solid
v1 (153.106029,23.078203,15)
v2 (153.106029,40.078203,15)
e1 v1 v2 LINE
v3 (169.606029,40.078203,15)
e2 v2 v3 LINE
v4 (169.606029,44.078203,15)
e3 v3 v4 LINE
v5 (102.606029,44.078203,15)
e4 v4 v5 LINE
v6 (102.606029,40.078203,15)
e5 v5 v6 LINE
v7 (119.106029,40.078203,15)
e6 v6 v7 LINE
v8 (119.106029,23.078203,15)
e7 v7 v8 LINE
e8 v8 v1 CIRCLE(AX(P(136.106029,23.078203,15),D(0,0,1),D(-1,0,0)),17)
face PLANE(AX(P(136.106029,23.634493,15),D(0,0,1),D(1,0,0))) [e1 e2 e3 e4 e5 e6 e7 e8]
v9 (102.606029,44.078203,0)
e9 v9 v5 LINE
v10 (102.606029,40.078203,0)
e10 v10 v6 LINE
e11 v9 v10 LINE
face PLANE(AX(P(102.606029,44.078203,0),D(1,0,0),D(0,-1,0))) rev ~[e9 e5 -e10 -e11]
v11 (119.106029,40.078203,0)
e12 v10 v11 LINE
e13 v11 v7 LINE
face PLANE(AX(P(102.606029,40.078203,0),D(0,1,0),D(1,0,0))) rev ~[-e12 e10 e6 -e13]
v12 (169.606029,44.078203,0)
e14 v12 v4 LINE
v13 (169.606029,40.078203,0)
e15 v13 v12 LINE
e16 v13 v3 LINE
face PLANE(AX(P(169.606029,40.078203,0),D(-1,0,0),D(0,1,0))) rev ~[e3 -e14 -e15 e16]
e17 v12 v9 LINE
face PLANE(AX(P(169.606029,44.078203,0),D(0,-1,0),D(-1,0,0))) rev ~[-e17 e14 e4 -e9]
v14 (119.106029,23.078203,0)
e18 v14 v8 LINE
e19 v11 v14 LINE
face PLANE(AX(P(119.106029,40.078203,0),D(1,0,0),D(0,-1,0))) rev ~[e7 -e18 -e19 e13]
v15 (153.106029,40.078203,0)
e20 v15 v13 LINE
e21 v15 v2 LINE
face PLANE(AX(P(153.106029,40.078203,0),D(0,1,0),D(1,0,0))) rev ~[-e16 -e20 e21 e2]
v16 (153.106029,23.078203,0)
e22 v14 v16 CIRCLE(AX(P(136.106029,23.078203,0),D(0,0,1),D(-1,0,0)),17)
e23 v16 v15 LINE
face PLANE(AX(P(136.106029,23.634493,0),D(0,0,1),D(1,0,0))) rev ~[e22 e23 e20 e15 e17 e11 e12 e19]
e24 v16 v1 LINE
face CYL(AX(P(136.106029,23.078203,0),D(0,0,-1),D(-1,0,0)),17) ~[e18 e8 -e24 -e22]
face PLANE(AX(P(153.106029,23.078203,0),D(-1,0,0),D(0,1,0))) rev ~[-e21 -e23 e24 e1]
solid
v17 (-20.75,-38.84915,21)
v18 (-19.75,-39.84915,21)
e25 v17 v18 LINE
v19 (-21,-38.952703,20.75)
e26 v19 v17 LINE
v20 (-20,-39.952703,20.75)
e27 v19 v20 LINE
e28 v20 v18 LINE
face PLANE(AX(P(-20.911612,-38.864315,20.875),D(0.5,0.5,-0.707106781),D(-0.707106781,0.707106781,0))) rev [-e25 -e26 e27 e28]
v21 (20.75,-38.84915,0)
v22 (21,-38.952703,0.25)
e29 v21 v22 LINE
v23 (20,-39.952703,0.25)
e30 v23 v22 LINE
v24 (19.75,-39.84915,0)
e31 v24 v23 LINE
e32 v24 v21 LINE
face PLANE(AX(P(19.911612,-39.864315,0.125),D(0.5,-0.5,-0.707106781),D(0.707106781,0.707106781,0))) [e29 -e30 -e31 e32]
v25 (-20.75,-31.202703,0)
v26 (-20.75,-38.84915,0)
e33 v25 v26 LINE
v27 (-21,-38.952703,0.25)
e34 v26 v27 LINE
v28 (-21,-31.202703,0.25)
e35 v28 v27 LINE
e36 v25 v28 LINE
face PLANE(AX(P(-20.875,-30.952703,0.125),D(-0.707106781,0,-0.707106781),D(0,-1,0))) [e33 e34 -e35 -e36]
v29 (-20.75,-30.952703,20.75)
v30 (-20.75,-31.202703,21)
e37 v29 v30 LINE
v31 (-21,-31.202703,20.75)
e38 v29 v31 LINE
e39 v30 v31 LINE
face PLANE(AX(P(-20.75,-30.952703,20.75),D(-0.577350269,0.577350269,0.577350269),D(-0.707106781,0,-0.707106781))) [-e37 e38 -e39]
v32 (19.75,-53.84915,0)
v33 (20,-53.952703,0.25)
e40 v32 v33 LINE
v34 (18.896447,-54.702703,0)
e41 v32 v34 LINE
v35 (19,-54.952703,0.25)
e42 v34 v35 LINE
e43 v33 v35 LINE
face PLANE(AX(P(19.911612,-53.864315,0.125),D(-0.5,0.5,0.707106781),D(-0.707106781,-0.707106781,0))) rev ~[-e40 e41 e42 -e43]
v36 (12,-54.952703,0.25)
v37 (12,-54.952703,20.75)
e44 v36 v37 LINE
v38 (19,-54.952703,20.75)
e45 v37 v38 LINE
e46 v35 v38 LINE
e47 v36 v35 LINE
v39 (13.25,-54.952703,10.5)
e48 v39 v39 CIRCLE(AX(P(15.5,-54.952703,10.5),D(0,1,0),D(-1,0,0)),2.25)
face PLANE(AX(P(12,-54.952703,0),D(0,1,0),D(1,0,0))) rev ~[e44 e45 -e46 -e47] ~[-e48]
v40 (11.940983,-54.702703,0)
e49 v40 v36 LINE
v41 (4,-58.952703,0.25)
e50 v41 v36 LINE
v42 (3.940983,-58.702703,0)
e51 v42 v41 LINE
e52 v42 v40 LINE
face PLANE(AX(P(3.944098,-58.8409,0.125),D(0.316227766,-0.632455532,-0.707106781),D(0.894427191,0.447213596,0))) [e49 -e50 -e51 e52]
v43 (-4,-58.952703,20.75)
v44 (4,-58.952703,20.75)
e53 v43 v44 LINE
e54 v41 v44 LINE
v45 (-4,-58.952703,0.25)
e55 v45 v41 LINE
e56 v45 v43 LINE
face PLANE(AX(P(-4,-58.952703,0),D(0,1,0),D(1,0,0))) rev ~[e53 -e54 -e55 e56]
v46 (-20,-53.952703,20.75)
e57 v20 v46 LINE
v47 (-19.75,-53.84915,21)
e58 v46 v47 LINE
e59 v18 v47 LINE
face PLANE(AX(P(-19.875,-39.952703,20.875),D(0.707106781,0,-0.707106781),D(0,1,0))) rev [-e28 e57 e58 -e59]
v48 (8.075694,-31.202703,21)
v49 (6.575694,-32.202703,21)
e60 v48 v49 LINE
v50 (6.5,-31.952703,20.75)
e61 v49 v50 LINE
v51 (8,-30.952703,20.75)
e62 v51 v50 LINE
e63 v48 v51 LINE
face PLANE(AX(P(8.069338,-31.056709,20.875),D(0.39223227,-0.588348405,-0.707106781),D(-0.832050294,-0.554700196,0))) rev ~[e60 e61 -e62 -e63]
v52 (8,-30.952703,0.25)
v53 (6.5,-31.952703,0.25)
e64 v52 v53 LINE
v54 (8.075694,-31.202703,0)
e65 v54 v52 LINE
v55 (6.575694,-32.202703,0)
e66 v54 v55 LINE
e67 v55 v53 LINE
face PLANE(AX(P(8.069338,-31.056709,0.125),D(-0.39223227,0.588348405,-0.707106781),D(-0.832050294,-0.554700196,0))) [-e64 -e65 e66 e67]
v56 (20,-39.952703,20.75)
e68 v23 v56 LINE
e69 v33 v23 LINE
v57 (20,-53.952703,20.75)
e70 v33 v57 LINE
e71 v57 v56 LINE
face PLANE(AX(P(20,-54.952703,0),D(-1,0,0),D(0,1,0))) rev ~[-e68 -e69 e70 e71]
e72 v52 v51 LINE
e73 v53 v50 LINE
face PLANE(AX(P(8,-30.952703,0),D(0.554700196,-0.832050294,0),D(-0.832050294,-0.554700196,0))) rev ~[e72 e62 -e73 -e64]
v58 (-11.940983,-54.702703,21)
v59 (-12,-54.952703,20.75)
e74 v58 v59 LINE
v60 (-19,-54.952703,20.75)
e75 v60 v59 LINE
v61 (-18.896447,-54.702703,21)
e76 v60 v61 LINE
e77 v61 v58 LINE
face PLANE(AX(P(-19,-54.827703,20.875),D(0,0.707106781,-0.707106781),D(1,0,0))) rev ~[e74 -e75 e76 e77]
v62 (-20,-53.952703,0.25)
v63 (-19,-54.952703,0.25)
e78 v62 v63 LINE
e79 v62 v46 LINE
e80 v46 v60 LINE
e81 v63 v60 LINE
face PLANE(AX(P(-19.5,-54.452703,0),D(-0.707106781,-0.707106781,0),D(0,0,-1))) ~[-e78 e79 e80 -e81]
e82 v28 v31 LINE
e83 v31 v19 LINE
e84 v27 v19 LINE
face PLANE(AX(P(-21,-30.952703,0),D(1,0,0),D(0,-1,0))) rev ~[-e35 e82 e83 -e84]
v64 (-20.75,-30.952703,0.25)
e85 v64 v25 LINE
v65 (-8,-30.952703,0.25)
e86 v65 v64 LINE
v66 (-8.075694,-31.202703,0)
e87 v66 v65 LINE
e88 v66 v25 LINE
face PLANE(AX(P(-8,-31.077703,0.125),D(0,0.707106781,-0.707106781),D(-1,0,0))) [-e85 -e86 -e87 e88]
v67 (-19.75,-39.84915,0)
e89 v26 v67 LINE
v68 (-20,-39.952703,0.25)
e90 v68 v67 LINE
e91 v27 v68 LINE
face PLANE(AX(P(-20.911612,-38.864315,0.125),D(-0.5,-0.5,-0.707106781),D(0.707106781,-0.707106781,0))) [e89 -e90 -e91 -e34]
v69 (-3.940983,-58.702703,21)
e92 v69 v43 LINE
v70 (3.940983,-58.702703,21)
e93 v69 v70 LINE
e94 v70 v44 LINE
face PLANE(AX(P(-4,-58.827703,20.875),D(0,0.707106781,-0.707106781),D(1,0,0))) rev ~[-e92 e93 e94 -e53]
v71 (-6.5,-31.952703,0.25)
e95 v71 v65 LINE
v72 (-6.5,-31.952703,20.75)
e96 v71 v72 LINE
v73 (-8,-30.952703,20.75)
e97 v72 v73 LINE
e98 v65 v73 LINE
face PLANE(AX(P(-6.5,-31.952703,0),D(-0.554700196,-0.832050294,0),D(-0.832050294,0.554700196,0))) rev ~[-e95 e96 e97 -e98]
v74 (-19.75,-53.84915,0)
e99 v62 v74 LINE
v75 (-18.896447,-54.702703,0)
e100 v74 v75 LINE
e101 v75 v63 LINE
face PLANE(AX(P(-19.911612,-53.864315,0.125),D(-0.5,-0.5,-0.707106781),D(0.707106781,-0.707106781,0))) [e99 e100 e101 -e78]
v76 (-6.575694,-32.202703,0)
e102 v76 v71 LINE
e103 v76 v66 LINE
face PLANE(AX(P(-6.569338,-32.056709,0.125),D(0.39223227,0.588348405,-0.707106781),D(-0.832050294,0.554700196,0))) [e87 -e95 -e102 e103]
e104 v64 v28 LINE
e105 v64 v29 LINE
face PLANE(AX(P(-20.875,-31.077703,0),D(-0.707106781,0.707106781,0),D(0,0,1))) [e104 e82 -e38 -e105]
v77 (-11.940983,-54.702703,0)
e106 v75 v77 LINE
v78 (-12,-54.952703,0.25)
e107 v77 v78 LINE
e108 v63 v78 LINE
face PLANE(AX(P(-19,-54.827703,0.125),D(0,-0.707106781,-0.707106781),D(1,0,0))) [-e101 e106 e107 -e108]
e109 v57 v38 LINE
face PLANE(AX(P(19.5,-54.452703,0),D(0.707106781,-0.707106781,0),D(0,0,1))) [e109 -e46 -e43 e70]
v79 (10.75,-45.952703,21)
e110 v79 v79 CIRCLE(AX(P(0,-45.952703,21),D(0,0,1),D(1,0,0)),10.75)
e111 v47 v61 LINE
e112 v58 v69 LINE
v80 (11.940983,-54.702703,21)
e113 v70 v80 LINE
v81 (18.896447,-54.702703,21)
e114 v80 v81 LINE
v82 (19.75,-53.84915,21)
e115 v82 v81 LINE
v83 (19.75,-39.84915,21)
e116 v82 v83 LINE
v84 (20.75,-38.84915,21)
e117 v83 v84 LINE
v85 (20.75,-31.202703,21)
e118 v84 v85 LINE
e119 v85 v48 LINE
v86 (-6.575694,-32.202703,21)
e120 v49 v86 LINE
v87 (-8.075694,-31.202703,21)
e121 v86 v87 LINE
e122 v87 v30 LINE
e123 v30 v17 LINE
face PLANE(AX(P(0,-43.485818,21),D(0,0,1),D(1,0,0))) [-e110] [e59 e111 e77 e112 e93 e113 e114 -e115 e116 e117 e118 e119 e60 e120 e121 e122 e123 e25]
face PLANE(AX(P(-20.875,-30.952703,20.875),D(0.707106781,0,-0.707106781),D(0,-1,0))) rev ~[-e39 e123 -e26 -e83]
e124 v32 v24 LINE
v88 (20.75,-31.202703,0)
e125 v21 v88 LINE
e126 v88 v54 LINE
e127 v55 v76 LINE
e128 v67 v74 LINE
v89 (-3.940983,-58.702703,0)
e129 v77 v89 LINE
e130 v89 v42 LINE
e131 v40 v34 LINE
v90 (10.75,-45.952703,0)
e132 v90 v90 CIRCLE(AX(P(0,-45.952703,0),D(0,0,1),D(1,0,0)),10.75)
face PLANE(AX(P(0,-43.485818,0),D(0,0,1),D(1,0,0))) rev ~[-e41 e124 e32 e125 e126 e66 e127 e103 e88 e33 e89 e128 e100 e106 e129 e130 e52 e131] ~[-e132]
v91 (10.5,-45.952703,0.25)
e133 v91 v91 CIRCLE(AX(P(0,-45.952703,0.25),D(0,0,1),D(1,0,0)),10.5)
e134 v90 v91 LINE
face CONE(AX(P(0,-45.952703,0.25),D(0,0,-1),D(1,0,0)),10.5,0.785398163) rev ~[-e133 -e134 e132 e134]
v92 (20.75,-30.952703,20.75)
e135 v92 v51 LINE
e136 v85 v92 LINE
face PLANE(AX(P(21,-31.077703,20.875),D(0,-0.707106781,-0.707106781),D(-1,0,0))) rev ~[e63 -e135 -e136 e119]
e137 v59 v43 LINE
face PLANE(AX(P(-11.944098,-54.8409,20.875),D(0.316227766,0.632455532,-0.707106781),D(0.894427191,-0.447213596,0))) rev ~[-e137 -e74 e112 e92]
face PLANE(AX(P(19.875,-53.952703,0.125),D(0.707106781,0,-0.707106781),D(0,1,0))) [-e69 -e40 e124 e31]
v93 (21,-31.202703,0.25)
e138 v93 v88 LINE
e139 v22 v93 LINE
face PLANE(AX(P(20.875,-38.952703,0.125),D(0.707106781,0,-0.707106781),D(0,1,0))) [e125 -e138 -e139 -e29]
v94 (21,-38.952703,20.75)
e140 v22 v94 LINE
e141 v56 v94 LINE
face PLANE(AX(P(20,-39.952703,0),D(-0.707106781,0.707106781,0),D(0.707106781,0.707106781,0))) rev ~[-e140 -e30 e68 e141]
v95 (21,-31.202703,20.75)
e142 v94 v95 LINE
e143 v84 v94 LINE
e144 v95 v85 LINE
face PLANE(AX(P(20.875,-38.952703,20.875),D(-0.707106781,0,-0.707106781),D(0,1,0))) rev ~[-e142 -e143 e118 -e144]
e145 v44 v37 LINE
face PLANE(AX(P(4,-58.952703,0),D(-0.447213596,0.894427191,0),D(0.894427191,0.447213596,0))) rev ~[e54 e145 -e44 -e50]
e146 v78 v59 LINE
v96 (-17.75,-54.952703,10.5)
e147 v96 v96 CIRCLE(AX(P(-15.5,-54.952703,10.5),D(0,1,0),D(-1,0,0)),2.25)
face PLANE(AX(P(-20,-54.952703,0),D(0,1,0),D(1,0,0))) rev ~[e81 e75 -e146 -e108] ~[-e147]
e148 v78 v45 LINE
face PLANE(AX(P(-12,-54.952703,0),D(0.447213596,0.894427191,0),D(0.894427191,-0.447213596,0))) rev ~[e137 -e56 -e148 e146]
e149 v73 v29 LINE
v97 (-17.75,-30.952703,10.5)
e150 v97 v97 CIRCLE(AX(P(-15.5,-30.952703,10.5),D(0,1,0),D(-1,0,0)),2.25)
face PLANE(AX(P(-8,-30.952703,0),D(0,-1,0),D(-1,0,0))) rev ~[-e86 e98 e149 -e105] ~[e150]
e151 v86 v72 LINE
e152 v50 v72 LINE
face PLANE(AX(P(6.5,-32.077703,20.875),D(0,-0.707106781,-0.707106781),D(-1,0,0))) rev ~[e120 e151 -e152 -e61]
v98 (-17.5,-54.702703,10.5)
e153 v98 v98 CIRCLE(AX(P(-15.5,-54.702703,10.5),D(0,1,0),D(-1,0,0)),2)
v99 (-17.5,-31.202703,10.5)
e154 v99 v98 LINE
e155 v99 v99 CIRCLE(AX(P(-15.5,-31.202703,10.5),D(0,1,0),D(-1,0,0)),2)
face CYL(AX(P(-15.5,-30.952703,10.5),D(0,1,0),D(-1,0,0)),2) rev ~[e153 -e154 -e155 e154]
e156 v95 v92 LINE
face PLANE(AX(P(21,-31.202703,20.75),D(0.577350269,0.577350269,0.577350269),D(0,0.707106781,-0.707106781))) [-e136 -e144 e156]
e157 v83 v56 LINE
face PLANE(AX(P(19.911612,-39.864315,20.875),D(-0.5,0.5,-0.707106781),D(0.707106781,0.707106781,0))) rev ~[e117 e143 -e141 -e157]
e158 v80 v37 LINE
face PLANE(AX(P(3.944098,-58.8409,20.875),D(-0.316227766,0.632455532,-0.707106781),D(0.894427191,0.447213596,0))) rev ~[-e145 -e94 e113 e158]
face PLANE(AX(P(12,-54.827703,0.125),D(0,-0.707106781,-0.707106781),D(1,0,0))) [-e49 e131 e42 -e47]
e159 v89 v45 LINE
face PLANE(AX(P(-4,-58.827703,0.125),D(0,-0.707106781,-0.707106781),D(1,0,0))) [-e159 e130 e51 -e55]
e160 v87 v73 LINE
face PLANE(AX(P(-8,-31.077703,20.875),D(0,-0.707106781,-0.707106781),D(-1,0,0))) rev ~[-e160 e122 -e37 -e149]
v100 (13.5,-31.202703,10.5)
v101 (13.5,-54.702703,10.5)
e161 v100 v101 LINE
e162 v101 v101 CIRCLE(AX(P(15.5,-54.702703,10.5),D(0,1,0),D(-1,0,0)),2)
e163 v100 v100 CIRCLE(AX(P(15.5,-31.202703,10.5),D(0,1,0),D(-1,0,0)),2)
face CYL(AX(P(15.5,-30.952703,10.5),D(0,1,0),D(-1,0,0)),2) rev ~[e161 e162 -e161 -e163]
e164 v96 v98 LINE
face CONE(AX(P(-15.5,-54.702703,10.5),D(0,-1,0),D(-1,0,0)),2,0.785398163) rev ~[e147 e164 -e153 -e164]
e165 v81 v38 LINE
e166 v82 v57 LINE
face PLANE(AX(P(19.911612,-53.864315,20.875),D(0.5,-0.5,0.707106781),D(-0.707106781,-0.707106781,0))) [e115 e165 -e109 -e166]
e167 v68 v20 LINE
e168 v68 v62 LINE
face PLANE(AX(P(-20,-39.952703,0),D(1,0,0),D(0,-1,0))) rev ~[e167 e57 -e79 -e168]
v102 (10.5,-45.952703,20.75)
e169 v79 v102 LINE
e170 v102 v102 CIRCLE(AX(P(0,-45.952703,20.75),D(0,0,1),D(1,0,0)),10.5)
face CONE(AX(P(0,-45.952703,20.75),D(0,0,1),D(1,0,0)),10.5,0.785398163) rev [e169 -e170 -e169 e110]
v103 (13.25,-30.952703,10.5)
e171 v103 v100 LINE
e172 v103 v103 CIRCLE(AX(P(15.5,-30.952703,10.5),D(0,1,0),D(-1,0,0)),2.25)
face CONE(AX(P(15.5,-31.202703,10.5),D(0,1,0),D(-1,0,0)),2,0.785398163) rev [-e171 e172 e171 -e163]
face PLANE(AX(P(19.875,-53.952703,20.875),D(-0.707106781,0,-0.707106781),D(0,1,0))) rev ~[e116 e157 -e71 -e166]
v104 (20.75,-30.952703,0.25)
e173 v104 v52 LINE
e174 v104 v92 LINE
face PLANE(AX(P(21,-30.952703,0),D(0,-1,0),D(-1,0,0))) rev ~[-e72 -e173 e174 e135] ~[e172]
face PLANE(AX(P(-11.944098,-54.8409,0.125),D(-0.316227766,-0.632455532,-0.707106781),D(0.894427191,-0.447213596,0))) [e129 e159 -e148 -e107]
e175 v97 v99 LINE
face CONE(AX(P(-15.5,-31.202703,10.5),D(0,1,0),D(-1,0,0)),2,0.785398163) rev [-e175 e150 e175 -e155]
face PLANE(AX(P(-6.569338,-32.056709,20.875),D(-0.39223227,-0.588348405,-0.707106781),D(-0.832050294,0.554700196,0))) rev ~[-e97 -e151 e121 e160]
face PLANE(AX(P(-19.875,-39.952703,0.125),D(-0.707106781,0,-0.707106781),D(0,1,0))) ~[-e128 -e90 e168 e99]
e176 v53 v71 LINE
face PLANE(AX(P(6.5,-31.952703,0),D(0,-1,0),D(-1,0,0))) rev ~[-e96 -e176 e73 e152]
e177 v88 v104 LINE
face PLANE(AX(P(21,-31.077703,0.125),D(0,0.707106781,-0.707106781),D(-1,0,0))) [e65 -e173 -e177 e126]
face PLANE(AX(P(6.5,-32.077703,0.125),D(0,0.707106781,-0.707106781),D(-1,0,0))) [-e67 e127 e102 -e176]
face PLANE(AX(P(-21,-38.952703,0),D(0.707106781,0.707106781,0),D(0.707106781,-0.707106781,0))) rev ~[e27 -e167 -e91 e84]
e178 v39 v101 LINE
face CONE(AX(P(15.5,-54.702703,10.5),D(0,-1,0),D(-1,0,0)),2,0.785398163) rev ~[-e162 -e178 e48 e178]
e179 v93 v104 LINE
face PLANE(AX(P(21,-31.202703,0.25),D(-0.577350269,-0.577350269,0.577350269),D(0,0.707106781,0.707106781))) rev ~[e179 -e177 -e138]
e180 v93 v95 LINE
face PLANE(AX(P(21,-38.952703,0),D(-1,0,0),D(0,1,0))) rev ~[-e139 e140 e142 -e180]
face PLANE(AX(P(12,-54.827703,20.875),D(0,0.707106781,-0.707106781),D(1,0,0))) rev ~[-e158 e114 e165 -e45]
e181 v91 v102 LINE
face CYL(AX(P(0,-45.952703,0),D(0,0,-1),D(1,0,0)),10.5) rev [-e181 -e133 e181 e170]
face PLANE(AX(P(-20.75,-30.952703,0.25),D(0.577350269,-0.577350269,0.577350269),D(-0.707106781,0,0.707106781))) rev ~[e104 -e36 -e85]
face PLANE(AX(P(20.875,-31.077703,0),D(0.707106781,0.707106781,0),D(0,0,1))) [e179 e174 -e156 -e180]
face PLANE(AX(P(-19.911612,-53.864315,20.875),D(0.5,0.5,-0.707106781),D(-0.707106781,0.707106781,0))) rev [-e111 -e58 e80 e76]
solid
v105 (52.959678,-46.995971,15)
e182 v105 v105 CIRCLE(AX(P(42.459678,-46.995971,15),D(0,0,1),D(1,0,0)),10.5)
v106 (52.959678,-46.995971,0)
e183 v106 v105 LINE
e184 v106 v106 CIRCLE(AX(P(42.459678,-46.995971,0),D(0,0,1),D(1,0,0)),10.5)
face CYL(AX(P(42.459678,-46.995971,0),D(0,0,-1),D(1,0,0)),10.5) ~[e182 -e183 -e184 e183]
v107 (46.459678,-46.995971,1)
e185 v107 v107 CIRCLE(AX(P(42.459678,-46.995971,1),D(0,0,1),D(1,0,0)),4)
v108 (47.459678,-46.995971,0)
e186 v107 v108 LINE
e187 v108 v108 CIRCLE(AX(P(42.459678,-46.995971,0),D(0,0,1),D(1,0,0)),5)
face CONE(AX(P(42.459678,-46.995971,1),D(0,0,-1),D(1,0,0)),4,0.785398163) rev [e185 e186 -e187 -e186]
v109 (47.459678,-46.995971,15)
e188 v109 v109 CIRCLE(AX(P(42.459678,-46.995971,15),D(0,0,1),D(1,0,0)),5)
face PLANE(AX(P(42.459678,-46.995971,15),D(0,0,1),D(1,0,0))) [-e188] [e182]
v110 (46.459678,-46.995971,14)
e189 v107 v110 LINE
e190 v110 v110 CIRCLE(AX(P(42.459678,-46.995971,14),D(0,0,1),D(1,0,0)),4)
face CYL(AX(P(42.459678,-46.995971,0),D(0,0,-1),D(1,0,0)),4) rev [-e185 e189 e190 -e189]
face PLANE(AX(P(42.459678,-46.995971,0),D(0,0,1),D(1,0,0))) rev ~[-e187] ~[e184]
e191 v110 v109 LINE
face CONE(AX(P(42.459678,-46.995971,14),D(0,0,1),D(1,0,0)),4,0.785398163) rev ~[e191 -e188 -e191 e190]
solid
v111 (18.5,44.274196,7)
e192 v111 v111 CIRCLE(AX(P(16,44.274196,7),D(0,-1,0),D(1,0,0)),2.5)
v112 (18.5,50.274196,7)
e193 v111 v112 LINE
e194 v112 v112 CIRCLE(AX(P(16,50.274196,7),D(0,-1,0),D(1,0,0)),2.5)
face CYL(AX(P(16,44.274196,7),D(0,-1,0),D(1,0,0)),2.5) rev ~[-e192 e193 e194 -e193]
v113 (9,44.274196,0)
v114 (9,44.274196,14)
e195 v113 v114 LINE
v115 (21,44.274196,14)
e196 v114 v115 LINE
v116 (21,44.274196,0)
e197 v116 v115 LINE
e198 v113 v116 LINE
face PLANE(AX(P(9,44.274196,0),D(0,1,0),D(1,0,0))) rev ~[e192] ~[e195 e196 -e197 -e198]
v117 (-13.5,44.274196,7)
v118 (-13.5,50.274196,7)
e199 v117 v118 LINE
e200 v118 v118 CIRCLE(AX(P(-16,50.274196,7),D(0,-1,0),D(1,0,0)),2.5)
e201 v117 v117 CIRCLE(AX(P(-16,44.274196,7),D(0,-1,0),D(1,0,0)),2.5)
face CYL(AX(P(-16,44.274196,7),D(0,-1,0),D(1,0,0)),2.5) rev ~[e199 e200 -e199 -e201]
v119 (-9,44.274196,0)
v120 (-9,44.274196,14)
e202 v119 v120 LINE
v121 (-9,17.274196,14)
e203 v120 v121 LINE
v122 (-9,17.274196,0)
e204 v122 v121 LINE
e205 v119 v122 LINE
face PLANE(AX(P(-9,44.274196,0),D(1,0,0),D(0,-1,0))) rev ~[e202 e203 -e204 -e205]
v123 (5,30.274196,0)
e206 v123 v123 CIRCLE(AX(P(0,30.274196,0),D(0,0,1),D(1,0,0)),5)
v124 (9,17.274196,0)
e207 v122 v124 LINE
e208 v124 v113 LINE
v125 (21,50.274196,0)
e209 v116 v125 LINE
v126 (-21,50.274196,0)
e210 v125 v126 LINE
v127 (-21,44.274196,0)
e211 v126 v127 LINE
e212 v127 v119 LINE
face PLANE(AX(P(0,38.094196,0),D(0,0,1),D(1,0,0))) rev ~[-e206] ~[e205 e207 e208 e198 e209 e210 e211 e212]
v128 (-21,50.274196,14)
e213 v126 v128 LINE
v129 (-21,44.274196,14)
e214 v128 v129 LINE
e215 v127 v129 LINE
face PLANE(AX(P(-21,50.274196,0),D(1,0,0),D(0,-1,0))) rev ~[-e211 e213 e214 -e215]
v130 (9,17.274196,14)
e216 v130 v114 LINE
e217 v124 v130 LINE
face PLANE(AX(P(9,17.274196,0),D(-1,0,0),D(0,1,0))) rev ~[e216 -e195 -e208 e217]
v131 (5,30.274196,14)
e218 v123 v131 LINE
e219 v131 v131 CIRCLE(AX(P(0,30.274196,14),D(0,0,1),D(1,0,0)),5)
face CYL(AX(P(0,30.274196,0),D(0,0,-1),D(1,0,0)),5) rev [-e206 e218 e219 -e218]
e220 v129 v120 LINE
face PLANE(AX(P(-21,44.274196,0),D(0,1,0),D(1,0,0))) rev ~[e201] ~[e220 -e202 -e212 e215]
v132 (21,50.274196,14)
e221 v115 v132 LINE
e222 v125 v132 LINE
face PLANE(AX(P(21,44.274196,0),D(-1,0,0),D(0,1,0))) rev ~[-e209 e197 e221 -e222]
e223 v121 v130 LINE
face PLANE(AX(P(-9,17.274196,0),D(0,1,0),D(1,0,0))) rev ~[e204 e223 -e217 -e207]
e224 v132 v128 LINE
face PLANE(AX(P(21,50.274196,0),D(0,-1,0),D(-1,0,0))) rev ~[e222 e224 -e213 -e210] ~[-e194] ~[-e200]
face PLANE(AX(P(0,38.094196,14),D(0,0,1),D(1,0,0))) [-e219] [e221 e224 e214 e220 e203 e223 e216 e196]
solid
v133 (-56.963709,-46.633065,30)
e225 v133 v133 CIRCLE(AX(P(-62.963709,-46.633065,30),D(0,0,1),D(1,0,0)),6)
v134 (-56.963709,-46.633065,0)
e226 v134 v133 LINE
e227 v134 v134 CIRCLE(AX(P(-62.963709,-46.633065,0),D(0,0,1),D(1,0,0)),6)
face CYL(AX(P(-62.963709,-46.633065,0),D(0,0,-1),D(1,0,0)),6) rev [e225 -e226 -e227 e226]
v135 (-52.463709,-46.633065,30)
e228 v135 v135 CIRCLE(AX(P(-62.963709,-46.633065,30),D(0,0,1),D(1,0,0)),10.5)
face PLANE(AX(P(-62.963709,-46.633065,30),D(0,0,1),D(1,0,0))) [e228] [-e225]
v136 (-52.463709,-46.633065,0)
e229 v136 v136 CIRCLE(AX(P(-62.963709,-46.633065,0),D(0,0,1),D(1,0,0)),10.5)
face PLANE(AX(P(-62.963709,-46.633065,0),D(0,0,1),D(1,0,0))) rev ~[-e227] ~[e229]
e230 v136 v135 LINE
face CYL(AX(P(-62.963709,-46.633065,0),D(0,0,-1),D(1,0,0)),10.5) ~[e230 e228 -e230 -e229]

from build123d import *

# Parameters (mm, degrees)
F0_R      = 5
F1_DEPTH  = 14
F2_R      = 2.5
F3_DEPTH  = 6.001
F4_R      = 10.5
F5_DEPTH  = 21
F6_SIZE   = 1
F7_R      = 2
F8_DEPTH  = 28.001
F9_SIZE   = 0.25
F10_R     = 10.5
F10_R_2   = 4
F11_DEPTH = 15
F12_SIZE  = 1
F13_R     = 10.5
F13_R_2   = 6
F14_DEPTH = 30
F16_DEPTH = 15


with BuildPart() as f1:
    # F0 (on Top) → F1 (new body)
    with BuildSketch(Plane.XY):
        Polygon((0, 50.274196), (-21, 50.274196), (-21, 44.274196), (-9, 44.274196), (-9, 17.274196), (9, 17.274196), (9, 44.274196), (21, 44.274196), (21, 50.274196), align=None)
        with Locations((0, 30.274196)):
            Circle(F0_R, mode=Mode.SUBTRACT)
    extrude(amount=F1_DEPTH)

    # F2 (on face) → F3 (cut, through all)
    with BuildSketch(Plane.XZ.offset(-44.274196)):
        with Locations((-16, 7)):
            Circle(F2_R)
        with Locations((16, 7)):
            Circle(F2_R)
    extrude(amount=-F3_DEPTH, mode=Mode.SUBTRACT)


with BuildPart() as f5:
    # F4 (on Top) → F5 (new body)
    with BuildSketch(Plane.XY):
        Polygon((-8, -30.952703), (-21, -30.952703), (-21, -38.952703), (-20, -39.952703), (-20, -54.952703), (-12, -54.952703), (-4, -58.952703), (0, -58.952703), (4, -58.952703), (12, -54.952703), (20, -54.952703), (20, -39.952703), (21, -38.952703), (21, -30.952703), (8, -30.952703), (6.5, -31.952703), (-6.5, -31.952703), align=None)
        with Locations((0, -45.952703)):
            Circle(F4_R, mode=Mode.SUBTRACT)
    extrude(amount=F5_DEPTH)

    # F6
    f6_edges = [f5.edges().sort_by_distance(p)[0] for p in [
        (-20, -54.952703, 10.5),
        (20, -54.952703, 10.5),
    ]]
    chamfer(f6_edges, length=F6_SIZE)

    # F7 (on face) → F8 (cut, through all)
    with BuildSketch(Plane(origin=(0, -30.952703, 0), x_dir=(-1, 0, 0), z_dir=(0, 1, 0))):
        with Locations((15.5, 10.5)):
            Circle(F7_R)
        with Locations((-15.5, 10.5)):
            Circle(F7_R)
    extrude(amount=-F8_DEPTH, mode=Mode.SUBTRACT)

    # F9
    f9_edges = [f5.edges().sort_by_distance(p)[0] for p in [
        (-20, -46.952703, 21),
        (-19.5, -54.452703, 21),
        (-20.5, -39.452703, 21),
        (-15.5, -54.952703, 21),
        (-21, -34.952703, 21),
        (-8, -56.952703, 21),
        (-14.5, -30.952703, 21),
        (0, -58.952703, 21),
        (-7.25, -31.452703, 21),
        (8, -56.952703, 21),
        (0, -31.952703, 21),
        (15.5, -54.952703, 21),
        (7.25, -31.452703, 21),
        (19.5, -54.452703, 21),
        (14.5, -30.952703, 21),
        (20, -46.952703, 21),
        (21, -34.952703, 21),
        (20.5, -39.452703, 21),
        (-10.5, -45.952703, 21),
        (-20, -46.952703, 0),
        (-19.5, -54.452703, 0),
        (-20.5, -39.452703, 0),
        (-15.5, -54.952703, 0),
        (-21, -34.952703, 0),
        (-8, -56.952703, 0),
        (-14.5, -30.952703, 0),
        (0, -58.952703, 0),
        (-7.25, -31.452703, 0),
        (8, -56.952703, 0),
        (0, -31.952703, 0),
        (15.5, -54.952703, 0),
        (7.25, -31.452703, 0),
        (19.5, -54.452703, 0),
        (14.5, -30.952703, 0),
        (20, -46.952703, 0),
        (21, -34.952703, 0),
        (20.5, -39.452703, 0),
        (-10.5, -45.952703, 0),
        (21, -30.952703, 10.5),
        (-21, -30.952703, 10.5),
        (-13.5, -54.952703, 10.5),
        (17.5, -54.952703, 10.5),
        (17.5, -30.952703, 10.5),
        (-13.5, -30.952703, 10.5),
    ]]
    chamfer(f9_edges, length=F9_SIZE)


with BuildPart() as f11:
    # F10 (on Top) → F11 (new body)
    with BuildSketch(Plane.XY):
        with Locations((42.459678, -46.995971)):
            Circle(F10_R)
        with Locations((42.459678, -46.995971)):
            Circle(F10_R_2, mode=Mode.SUBTRACT)
    extrude(amount=F11_DEPTH)

    # F12
    f12_edges = [f11.edges().sort_by_distance(p)[0] for p in [
        (38.459678, -46.995971, 15),
        (38.459678, -46.995971, 0),
    ]]
    chamfer(f12_edges, length=F12_SIZE)


with BuildPart() as f14:
    # F13 (on Top) → F14 (new body)
    with BuildSketch(Plane.XY):
        with Locations((-62.963709, -46.633065)):
            Circle(F13_R)
        with Locations((-62.963709, -46.633065)):
            Circle(F13_R_2, mode=Mode.SUBTRACT)
    extrude(amount=F14_DEPTH)


with BuildPart() as f16:
    # F15 (on Top) → F16 (new body)
    with BuildSketch(Plane.XY):
        with BuildLine():
            ThreePointArc((119.106029, 23.078203), (136.106029, 6.078203), (153.106029, 23.078203))
            ThreePointArc((153.106029, 23.078203), (148.126844, 35.099018), (136.106029, 40.078203))
            ThreePointArc((136.106029, 40.078203), (124.085214, 35.099018), (119.106029, 23.078203))
        make_face()
        with BuildLine():
            ThreePointArc((136.106029, 40.078203), (148.126844, 35.099018), (153.106029, 23.078203))
            Line((153.106029, 23.078203), (153.106029, 40.078203))
            Line((153.106029, 40.078203), (136.106029, 40.078203))
        make_face()
        Polygon((119.106029, 40.078203), (136.106029, 40.078203), (153.106029, 40.078203), (169.606029, 40.078203), (169.606029, 44.078203), (102.606029, 44.078203), (102.606029, 40.078203), align=None)
        with BuildLine():
            ThreePointArc((119.106029, 23.078203), (124.085214, 35.099018), (136.106029, 40.078203))
            Line((136.106029, 40.078203), (119.106029, 40.078203))
            Line((119.106029, 40.078203), (119.106029, 23.078203))
        make_face()
    extrude(amount=F16_DEPTH)


solid = Compound([f1.part, f5.part, f11.part, f14.part, f16.part])
